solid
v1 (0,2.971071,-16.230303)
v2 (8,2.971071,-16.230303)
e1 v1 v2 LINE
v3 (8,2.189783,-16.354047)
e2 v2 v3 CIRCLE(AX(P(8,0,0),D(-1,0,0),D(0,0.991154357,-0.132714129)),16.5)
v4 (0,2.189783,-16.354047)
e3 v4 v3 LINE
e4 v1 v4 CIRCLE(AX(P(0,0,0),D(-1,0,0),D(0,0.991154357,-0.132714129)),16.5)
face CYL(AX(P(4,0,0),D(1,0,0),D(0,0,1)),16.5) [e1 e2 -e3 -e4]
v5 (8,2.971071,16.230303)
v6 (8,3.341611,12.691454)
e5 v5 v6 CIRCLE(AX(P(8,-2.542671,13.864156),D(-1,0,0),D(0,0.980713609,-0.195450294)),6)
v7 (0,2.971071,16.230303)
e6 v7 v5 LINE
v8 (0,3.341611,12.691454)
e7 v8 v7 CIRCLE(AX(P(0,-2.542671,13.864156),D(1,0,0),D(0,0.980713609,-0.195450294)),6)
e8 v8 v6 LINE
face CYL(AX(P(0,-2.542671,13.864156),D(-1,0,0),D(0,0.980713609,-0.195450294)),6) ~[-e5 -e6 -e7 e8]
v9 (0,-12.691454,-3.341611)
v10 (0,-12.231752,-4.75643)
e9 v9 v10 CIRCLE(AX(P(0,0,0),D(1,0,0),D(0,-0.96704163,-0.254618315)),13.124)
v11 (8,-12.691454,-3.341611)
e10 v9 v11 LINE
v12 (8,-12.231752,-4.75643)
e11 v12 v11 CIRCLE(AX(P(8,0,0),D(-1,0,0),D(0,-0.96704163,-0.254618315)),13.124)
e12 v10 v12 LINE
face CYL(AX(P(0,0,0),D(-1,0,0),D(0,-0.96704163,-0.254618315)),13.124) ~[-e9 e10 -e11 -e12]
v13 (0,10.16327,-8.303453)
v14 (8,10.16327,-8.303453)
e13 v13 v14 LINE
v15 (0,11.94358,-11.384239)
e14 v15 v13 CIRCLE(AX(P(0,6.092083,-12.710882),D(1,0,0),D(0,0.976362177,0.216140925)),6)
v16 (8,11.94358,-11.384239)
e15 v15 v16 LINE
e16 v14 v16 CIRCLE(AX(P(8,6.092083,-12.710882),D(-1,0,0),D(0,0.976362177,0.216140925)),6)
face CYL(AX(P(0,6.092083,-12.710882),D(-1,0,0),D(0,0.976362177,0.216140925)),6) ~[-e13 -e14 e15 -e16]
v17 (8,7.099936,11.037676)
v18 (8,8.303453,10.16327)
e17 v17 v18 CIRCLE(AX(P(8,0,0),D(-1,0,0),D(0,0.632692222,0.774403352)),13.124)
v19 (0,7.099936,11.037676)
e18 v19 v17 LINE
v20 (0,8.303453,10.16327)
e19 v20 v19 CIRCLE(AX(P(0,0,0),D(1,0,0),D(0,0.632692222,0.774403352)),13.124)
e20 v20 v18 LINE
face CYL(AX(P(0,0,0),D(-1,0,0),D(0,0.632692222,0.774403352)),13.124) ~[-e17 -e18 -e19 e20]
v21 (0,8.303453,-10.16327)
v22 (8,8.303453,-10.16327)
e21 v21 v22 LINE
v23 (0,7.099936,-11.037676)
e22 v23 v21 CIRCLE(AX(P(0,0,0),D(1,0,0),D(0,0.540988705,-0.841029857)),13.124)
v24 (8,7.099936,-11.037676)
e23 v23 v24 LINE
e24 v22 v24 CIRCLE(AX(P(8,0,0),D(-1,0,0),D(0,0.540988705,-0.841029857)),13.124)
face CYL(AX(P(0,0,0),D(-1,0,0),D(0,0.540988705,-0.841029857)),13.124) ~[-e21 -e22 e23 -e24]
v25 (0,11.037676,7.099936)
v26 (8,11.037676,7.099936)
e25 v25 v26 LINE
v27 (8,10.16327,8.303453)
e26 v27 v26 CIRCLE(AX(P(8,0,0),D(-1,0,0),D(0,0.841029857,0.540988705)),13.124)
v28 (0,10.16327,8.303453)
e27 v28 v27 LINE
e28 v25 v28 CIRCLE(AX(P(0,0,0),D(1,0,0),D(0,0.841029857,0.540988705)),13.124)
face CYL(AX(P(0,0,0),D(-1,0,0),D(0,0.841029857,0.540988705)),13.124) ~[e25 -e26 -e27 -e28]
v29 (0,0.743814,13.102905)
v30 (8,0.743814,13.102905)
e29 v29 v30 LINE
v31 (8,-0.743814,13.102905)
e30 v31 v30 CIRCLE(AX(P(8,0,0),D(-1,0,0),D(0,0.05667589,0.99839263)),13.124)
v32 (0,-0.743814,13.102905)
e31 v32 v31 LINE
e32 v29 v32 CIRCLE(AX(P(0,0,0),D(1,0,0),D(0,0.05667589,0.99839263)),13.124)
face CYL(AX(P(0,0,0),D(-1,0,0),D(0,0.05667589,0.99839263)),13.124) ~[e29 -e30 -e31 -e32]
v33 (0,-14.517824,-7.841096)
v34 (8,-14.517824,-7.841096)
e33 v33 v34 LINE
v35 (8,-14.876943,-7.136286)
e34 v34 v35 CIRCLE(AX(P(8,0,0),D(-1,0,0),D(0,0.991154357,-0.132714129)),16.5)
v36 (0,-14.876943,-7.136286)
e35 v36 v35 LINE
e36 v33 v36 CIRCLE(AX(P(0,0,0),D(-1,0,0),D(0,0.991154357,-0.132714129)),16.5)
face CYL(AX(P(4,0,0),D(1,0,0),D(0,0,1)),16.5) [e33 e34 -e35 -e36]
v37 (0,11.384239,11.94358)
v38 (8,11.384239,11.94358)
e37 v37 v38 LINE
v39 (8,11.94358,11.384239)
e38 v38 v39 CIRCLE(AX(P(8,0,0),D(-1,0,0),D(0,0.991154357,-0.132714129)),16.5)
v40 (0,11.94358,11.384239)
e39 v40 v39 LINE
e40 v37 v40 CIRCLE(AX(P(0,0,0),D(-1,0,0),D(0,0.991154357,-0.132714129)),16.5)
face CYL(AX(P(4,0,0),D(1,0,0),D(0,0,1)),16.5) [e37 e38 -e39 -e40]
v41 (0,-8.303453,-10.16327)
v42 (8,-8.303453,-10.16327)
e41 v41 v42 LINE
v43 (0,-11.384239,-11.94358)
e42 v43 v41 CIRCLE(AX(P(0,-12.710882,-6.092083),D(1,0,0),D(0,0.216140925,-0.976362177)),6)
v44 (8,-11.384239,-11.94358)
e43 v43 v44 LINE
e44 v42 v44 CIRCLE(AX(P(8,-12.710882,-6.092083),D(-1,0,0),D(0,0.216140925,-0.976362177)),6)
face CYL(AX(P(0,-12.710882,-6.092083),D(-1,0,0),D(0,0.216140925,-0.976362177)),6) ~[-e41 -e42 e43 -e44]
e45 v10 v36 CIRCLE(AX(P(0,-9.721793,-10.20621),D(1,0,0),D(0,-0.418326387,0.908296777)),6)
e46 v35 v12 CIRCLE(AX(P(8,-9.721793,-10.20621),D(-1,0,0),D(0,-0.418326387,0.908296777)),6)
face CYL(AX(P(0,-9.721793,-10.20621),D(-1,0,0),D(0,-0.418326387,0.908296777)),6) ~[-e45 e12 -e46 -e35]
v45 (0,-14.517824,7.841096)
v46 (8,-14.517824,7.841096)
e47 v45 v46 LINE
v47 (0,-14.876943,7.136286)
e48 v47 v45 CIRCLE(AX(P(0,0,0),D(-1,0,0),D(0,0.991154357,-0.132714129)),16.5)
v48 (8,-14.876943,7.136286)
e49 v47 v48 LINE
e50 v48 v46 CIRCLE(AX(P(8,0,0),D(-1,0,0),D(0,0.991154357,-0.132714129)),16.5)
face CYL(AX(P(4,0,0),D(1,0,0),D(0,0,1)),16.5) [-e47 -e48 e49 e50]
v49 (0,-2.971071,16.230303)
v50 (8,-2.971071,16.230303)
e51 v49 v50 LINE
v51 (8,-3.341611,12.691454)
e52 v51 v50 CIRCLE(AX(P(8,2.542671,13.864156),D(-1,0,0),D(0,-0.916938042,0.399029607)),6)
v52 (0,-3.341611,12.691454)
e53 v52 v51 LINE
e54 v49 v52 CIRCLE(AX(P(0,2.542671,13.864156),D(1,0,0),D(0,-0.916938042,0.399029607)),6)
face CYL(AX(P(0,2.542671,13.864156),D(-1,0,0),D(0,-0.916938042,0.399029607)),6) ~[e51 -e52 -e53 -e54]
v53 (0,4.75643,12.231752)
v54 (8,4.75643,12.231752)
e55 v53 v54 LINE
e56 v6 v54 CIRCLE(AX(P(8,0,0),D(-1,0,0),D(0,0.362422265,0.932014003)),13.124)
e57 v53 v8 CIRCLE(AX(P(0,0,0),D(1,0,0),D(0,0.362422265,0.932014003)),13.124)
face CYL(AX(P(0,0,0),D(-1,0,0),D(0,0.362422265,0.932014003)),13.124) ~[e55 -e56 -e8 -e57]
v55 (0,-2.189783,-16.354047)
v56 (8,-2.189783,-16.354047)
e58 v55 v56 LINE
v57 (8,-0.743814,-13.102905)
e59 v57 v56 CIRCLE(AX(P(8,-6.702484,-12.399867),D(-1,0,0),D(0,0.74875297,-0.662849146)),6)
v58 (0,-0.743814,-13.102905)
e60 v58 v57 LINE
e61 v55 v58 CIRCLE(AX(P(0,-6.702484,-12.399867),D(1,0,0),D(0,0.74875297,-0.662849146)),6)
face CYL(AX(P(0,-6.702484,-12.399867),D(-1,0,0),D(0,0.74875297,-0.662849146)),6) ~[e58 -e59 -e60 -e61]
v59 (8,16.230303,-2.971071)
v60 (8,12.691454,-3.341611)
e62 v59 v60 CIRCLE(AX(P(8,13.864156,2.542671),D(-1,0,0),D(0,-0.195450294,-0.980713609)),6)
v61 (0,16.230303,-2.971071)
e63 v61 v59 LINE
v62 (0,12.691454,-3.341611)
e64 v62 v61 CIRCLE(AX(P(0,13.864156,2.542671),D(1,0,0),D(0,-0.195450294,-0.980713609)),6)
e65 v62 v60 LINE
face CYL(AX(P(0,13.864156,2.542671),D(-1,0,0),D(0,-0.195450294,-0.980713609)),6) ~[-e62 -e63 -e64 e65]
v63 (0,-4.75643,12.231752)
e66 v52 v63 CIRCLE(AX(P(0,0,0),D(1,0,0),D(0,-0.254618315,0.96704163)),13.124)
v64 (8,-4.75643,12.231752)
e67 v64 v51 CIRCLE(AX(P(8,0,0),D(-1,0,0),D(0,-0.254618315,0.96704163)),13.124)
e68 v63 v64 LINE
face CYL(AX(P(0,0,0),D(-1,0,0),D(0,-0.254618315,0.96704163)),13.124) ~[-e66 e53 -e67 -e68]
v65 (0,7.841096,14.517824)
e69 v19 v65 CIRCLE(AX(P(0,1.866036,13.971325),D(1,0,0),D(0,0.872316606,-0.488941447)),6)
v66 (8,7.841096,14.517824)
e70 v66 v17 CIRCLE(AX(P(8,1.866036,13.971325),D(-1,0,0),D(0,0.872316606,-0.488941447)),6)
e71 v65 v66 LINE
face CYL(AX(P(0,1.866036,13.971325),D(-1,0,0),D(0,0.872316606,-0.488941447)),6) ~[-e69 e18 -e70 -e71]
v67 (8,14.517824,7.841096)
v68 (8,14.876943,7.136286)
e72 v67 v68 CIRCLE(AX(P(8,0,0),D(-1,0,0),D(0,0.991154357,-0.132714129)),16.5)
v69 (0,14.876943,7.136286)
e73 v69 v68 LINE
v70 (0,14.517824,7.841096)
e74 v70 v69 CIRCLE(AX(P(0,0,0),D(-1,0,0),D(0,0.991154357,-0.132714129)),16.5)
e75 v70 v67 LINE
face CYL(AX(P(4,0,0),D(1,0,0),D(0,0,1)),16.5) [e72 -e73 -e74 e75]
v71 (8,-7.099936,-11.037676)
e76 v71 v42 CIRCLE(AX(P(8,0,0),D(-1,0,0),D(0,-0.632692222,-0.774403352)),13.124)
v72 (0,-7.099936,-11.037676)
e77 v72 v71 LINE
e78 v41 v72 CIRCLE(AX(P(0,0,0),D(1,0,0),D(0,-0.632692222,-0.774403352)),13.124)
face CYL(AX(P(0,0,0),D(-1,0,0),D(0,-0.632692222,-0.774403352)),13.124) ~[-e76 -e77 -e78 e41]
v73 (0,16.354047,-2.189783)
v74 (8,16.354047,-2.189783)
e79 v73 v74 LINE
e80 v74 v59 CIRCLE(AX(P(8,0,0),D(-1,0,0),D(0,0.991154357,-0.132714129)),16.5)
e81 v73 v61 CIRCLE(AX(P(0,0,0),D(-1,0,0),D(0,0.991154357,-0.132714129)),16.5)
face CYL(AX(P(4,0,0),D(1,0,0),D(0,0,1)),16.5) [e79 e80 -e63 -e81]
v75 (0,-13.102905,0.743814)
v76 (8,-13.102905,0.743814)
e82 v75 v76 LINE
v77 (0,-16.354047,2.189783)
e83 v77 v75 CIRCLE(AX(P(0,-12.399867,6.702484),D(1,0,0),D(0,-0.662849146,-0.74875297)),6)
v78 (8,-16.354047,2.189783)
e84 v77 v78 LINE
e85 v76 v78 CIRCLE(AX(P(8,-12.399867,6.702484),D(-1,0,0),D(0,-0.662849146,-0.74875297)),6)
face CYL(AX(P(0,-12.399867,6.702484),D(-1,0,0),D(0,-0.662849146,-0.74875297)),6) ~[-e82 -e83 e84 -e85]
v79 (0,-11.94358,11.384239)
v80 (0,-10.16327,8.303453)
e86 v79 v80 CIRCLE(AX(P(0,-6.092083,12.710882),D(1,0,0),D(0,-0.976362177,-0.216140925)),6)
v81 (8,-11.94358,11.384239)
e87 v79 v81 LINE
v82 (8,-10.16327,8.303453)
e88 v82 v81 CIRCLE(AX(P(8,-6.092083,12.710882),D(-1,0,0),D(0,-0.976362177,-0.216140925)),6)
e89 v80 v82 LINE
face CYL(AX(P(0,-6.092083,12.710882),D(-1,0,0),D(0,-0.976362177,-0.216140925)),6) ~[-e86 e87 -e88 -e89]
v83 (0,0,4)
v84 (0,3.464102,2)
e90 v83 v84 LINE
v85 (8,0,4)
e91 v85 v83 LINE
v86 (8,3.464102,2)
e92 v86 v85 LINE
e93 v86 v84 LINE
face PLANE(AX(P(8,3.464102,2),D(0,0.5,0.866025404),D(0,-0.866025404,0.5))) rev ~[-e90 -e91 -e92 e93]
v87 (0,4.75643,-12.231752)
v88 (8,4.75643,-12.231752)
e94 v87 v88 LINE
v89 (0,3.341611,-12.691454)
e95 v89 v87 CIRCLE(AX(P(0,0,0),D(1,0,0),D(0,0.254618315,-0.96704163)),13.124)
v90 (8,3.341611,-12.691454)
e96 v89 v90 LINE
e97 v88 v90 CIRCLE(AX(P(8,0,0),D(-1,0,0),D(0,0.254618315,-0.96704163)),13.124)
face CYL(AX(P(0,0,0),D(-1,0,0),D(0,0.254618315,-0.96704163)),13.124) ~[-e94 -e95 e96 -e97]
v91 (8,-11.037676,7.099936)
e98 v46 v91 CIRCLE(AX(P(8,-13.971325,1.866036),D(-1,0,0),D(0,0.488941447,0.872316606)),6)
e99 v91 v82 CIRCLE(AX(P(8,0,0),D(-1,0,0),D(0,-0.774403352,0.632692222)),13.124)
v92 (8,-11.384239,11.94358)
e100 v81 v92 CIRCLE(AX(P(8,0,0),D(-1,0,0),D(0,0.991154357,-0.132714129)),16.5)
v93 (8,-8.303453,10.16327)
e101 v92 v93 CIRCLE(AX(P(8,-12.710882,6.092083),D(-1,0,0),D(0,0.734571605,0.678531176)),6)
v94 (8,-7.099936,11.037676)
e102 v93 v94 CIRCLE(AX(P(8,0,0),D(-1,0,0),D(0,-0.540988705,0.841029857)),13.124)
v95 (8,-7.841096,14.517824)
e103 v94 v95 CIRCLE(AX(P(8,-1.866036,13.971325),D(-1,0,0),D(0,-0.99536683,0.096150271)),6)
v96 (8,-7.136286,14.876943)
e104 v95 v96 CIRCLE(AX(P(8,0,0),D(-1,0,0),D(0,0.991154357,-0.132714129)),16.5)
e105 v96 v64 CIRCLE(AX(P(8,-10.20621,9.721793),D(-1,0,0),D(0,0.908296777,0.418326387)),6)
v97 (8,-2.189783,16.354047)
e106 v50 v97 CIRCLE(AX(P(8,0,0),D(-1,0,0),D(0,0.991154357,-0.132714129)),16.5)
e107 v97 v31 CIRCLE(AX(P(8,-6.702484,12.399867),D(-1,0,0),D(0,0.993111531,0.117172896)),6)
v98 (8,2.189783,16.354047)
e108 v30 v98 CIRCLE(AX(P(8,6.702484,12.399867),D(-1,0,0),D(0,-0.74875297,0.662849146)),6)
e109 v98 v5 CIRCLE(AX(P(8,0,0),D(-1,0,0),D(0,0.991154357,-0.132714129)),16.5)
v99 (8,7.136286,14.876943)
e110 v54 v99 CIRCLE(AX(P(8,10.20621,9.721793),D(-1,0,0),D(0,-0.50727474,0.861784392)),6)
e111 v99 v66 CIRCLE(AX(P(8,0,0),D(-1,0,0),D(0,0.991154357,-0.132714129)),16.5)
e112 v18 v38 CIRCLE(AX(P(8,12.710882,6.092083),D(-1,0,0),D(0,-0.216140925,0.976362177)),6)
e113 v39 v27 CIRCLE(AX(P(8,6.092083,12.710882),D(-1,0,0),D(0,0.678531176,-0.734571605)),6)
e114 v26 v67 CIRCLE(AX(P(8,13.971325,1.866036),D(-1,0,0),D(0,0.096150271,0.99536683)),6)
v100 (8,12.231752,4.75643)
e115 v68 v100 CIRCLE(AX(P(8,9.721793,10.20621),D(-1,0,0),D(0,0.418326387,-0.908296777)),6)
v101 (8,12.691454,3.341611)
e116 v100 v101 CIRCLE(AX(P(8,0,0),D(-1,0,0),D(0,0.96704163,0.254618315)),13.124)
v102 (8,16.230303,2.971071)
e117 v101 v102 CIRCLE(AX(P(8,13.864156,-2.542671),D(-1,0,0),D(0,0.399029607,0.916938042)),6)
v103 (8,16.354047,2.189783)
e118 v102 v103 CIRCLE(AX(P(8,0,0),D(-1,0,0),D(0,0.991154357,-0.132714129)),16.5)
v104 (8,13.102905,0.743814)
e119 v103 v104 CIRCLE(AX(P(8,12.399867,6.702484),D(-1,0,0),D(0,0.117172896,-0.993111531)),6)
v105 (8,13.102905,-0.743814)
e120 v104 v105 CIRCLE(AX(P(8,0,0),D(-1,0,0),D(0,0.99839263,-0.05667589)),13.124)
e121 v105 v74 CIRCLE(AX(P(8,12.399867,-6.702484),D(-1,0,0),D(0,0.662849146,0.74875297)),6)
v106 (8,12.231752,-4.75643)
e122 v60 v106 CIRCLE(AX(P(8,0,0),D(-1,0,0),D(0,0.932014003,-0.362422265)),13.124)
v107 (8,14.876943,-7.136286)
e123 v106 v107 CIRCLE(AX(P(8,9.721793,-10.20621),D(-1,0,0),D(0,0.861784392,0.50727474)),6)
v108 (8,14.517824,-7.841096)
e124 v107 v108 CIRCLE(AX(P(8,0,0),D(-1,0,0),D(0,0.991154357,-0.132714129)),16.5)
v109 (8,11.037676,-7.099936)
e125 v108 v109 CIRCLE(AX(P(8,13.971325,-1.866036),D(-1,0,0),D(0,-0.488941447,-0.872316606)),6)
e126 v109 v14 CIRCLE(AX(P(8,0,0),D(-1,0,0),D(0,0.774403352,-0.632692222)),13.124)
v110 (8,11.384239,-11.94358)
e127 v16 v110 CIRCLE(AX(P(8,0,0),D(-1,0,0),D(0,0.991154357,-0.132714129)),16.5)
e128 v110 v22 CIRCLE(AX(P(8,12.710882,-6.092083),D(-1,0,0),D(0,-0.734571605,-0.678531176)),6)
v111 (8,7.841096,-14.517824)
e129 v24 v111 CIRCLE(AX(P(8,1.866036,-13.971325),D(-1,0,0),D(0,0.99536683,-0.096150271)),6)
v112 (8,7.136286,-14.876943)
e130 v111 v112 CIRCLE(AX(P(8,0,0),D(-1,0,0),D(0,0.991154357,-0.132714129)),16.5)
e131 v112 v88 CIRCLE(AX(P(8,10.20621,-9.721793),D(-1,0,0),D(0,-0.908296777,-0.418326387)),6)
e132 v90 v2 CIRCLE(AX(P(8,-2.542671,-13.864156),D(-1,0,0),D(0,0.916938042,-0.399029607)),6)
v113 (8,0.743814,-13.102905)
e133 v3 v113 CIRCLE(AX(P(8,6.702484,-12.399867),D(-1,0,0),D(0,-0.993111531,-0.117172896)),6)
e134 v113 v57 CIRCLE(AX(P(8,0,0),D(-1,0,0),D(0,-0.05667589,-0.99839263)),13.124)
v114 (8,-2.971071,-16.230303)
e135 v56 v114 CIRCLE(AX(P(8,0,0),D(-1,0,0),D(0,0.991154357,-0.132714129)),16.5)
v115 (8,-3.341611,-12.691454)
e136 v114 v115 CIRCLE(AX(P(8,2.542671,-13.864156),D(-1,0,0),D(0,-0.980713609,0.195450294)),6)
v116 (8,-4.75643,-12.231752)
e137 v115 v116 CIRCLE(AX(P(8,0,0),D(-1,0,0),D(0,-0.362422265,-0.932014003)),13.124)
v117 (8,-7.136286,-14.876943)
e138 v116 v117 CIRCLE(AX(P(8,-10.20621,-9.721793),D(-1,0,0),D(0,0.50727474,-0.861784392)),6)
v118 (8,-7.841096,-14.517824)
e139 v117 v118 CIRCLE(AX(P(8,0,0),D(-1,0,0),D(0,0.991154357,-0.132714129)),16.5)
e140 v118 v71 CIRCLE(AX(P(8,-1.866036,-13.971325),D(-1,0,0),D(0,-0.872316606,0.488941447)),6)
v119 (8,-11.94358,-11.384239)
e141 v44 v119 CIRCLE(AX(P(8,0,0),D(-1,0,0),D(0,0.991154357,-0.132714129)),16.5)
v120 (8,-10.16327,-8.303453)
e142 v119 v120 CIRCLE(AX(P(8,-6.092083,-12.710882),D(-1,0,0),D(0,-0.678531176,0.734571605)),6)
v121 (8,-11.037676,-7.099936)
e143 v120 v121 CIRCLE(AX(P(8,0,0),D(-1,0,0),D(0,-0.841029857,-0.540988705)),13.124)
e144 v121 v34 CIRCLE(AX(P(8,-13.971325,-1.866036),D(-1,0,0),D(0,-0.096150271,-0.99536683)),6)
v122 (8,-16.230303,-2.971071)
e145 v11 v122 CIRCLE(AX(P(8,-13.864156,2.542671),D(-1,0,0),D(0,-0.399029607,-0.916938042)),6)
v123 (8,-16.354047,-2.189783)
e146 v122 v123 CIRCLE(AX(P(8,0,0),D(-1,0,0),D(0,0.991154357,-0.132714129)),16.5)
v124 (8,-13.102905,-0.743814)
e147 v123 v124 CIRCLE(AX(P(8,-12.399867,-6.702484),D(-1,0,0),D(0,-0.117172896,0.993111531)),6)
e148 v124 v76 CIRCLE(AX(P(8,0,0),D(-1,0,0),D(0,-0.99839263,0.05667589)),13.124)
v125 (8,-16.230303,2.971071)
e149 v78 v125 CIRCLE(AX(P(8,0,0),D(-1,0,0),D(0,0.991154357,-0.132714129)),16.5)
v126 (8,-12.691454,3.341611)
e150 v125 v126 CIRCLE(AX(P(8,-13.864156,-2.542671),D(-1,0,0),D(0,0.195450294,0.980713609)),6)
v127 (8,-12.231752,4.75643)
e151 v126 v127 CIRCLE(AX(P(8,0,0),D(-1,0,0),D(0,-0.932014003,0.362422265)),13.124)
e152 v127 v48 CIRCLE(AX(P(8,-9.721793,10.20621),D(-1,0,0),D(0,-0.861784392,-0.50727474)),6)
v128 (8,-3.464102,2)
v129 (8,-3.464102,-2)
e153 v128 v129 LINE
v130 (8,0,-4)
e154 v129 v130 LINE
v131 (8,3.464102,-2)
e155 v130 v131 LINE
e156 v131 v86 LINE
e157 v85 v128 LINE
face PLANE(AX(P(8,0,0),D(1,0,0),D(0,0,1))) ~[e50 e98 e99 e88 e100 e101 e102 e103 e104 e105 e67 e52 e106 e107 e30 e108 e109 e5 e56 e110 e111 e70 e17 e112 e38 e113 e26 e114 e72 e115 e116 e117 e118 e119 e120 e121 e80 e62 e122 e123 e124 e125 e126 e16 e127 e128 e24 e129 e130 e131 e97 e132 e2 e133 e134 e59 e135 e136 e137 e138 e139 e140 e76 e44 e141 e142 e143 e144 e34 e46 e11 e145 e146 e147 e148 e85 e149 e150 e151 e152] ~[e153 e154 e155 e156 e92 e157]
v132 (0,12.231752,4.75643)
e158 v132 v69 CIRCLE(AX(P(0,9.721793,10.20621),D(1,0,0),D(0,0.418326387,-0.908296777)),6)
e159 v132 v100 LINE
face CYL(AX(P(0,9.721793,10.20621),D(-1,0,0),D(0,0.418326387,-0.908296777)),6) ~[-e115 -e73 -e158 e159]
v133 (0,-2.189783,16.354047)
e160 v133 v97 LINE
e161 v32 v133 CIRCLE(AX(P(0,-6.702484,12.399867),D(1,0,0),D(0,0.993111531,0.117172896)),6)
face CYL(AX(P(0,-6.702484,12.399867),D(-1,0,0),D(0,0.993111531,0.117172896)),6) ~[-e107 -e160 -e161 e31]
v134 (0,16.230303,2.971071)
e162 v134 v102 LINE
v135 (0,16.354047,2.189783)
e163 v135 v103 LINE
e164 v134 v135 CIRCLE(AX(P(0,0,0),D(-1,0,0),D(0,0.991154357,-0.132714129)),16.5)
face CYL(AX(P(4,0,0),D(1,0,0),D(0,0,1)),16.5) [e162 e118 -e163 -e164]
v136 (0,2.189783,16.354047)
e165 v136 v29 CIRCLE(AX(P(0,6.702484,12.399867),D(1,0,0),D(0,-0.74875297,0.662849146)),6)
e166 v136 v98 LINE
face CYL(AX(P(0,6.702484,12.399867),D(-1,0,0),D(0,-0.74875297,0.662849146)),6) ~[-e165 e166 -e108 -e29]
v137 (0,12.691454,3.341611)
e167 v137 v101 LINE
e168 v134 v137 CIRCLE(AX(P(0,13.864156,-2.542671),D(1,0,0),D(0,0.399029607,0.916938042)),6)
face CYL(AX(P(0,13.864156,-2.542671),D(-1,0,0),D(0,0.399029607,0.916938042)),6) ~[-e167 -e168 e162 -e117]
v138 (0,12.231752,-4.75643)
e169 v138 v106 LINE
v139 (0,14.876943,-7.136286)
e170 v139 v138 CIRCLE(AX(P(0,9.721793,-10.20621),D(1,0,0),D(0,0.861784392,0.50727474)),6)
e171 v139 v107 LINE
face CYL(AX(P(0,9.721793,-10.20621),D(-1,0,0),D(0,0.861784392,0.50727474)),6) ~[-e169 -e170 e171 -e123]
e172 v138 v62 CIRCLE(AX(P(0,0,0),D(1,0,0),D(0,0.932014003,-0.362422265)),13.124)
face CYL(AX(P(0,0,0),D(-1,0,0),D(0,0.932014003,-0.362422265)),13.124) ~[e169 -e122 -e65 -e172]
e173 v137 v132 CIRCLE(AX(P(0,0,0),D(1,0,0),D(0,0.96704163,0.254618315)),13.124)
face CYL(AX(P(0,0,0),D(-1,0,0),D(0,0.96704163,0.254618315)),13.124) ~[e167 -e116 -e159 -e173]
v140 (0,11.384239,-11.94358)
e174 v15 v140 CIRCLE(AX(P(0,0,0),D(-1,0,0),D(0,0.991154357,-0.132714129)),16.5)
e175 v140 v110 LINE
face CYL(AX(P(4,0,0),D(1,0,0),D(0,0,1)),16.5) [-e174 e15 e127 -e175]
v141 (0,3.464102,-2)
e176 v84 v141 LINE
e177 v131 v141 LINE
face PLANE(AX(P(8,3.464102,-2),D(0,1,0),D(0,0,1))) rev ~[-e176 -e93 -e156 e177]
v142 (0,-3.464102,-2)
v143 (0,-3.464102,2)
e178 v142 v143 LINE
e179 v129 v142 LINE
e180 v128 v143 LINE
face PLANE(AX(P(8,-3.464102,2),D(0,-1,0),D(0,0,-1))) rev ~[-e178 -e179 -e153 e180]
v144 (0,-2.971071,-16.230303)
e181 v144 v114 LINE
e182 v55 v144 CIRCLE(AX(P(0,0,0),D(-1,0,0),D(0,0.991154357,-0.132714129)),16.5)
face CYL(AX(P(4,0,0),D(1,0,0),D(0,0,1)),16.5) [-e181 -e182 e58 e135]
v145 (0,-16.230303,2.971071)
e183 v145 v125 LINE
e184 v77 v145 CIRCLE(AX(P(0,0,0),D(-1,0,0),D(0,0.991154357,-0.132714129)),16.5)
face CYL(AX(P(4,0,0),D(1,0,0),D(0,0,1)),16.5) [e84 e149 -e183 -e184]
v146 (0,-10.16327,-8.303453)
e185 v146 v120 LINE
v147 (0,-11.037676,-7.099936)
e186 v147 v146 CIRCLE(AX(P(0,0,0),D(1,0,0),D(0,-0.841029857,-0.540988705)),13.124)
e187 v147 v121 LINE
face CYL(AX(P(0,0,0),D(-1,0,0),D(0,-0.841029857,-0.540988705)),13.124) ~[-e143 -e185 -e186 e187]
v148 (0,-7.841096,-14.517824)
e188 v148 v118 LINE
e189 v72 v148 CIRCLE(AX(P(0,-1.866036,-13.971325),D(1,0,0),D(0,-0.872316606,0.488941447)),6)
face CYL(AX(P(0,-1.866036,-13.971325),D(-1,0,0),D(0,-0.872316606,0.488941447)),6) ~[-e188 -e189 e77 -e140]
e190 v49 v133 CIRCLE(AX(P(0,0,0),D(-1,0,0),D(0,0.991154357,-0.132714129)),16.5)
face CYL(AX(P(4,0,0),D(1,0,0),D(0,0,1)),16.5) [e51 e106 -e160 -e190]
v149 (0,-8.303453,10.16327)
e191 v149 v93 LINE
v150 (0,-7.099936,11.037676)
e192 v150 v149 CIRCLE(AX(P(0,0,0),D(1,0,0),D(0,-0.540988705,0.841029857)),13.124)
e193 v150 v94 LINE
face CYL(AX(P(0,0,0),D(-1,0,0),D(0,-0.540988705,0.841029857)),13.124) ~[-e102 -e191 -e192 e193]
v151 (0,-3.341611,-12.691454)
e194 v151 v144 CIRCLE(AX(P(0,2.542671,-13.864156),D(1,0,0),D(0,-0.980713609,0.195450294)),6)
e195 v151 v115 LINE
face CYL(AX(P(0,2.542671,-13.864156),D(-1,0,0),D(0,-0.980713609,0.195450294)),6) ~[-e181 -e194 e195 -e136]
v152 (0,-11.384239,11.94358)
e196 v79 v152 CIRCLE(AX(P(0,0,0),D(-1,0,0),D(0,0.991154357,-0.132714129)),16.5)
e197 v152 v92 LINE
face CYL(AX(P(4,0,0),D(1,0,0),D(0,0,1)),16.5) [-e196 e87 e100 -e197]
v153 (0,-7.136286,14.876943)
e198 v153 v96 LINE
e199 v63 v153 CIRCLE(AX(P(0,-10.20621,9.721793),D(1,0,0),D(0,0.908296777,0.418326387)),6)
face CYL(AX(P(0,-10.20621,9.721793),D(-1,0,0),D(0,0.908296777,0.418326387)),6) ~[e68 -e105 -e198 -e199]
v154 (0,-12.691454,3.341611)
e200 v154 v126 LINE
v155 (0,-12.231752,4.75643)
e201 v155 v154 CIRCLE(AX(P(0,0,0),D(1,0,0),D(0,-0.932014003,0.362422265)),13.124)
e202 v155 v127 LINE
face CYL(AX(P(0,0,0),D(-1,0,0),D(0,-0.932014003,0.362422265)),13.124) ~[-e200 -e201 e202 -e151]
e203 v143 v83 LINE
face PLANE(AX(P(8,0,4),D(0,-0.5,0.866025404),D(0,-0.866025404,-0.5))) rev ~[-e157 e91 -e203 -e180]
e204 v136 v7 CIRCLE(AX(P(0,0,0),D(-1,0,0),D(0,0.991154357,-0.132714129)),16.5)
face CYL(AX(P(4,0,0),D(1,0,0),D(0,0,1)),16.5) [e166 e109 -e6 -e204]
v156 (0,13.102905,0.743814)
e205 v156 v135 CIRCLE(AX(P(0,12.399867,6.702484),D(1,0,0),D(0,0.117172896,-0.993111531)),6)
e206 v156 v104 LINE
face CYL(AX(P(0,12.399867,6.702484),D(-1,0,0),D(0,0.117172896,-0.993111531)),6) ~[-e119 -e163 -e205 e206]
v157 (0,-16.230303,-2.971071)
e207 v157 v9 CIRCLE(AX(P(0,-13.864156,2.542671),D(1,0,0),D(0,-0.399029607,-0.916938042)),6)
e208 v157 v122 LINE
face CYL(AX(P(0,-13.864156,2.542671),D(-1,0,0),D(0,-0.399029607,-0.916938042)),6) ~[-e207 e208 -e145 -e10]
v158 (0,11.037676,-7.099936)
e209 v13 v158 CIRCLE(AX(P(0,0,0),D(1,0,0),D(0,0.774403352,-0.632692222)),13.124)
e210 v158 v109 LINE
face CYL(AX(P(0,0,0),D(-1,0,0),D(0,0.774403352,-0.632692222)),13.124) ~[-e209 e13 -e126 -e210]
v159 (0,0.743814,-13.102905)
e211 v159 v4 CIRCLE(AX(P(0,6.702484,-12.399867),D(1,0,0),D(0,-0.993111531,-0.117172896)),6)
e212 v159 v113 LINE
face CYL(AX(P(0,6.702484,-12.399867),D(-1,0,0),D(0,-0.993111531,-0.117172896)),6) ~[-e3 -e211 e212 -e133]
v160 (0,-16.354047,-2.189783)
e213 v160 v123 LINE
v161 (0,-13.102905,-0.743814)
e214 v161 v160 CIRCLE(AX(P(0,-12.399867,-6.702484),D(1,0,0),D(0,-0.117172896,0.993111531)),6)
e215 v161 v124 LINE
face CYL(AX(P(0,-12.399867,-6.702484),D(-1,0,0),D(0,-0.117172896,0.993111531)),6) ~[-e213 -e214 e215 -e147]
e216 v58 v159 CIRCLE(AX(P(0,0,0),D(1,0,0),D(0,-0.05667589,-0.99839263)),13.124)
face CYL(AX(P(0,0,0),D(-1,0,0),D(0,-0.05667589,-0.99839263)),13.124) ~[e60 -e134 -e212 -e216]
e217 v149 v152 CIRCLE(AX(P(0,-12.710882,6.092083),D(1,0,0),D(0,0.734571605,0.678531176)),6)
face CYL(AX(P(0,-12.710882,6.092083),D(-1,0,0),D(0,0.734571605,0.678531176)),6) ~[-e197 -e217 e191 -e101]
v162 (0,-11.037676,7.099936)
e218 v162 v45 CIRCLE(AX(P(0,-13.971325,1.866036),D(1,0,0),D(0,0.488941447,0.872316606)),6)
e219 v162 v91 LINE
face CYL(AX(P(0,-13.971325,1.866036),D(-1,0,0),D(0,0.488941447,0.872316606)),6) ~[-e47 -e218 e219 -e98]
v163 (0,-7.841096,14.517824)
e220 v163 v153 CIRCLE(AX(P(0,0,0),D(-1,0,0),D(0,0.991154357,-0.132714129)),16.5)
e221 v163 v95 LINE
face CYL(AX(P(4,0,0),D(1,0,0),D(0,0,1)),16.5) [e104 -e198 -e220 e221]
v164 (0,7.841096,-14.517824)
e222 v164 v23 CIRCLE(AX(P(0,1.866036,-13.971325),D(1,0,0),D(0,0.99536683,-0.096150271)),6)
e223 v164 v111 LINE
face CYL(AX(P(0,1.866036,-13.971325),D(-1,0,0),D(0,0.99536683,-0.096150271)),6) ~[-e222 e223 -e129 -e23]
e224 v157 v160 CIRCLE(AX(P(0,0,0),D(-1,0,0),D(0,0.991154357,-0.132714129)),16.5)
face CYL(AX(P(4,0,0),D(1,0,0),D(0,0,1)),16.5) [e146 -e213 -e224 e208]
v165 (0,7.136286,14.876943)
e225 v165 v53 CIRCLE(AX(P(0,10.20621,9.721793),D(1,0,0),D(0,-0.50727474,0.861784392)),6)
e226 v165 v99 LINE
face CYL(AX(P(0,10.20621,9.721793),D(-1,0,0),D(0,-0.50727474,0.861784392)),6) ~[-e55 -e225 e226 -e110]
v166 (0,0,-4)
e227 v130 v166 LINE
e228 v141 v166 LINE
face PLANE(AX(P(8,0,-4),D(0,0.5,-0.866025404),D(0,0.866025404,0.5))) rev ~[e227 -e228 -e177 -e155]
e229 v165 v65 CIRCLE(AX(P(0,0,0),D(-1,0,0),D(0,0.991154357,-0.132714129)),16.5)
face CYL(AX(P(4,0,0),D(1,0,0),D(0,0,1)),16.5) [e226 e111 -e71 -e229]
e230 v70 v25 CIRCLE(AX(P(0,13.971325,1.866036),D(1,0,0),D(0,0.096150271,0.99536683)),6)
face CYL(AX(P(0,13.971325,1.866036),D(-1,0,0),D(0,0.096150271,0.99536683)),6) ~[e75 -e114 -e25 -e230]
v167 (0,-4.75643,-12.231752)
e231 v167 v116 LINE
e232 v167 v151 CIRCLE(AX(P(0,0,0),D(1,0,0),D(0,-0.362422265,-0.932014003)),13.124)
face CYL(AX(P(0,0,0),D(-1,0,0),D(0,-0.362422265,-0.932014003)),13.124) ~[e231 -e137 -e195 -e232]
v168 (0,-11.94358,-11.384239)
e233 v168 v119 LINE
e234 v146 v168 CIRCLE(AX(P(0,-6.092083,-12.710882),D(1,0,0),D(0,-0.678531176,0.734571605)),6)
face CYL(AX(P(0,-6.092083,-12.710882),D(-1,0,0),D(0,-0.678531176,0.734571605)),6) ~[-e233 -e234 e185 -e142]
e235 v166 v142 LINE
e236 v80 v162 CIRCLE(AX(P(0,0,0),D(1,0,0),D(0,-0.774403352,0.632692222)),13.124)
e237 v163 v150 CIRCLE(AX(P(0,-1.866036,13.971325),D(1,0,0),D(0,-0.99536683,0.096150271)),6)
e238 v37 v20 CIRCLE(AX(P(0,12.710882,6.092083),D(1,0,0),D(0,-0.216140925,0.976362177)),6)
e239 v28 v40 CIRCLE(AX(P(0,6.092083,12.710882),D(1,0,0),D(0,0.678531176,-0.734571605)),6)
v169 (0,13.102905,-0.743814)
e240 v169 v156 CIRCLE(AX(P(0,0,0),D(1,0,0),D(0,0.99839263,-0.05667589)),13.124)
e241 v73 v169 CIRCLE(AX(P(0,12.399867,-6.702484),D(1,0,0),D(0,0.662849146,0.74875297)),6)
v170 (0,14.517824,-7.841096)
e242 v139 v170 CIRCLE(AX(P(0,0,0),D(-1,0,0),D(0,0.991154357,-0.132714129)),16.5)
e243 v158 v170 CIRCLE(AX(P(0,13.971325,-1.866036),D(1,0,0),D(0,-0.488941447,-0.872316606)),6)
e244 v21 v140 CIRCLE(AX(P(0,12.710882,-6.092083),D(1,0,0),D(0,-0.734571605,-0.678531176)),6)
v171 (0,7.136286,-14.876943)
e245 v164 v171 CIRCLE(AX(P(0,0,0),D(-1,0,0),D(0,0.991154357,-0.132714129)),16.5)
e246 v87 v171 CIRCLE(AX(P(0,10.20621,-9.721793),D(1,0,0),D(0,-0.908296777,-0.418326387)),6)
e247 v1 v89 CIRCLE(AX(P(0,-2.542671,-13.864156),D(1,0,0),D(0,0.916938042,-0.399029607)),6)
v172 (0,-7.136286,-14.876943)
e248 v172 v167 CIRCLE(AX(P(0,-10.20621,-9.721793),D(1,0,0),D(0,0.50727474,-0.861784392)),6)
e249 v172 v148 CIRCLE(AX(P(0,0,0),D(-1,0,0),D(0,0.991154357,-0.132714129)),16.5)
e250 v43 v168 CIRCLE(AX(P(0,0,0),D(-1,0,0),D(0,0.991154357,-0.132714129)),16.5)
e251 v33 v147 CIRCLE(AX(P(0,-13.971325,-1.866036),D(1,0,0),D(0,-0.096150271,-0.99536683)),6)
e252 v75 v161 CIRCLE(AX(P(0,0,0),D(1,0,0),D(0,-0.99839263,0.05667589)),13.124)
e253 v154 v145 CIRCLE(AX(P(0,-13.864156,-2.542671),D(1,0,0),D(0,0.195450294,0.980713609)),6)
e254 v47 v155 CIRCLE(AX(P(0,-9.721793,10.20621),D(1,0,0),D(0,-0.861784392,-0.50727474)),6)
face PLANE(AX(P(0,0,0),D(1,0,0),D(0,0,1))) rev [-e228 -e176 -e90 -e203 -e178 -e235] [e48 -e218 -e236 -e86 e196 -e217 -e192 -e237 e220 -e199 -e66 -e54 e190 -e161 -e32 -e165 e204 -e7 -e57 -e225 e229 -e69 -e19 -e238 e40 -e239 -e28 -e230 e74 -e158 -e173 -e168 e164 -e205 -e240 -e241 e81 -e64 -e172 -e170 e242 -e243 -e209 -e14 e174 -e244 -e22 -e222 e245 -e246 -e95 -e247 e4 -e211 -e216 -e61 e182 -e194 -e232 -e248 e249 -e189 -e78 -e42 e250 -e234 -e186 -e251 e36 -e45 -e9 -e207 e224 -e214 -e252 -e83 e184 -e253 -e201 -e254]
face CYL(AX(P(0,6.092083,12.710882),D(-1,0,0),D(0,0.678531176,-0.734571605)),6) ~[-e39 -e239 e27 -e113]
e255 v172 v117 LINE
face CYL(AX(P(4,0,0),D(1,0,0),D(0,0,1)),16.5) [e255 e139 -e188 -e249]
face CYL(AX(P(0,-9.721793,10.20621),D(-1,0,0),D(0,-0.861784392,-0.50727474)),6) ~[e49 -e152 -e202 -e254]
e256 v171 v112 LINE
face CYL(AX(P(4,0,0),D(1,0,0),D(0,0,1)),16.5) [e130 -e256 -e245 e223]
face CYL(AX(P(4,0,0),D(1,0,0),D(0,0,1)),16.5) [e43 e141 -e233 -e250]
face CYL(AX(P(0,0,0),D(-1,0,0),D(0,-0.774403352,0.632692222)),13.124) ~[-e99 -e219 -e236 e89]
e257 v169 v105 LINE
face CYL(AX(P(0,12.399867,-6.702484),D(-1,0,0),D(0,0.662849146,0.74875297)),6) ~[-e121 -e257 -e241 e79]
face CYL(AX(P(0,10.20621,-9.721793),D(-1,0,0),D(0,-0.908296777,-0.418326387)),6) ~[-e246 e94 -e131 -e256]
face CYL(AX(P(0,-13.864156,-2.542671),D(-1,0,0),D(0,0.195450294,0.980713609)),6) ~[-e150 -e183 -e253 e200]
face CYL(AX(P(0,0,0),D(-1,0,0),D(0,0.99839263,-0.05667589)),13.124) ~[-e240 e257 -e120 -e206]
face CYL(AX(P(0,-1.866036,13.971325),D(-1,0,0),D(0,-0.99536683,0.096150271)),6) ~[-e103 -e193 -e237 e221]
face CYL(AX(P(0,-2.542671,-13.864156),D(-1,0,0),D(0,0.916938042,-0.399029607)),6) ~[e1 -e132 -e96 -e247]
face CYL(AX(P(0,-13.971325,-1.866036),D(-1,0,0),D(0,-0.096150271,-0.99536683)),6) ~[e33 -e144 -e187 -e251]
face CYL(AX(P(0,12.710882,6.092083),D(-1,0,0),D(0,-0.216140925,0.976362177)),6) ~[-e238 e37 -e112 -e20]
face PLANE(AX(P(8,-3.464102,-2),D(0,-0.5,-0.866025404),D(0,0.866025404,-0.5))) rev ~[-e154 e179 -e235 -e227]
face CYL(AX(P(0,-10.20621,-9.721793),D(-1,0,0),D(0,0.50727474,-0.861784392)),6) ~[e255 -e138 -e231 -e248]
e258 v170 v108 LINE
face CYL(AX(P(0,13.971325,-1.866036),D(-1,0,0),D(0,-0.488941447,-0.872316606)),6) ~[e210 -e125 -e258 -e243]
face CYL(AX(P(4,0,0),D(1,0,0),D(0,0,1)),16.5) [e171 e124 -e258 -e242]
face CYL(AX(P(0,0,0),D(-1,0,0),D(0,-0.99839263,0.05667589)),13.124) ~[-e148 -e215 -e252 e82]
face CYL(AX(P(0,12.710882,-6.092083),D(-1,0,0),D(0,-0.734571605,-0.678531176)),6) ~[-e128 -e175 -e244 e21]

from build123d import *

# Parameters (mm, degrees)
BASPROSKE_W        = 8
BASPROSKE_H        = 16.5
TOOTHCUT_DEPTH     = 25.667792767
TEETHCUTS_COUNT    = 20
TEETHCUTS_ANGLE    = 342
BORSKE_R           = 2.5
BORE_DEPTH         = 50.0000508
CUT_EXTRUDE1_DEPTH = 25.472631648


with BuildPart() as part:
    # BasProSke → Base-Revolve (revolve)
    with BuildSketch(Plane(origin=(0, 0, 0), x_dir=(1, 0, 0), z_dir=(0, 1, 0)), mode=Mode.PRIVATE) as base_revolve_sk:
        with Locations((4, 8.25)):
            Rectangle(BASPROSKE_W, BASPROSKE_H)
    revolve(base_revolve_sk.sketch.rotate(Axis((-10, 0, 0), (1, 0, 0)), 180), axis=Axis((-10, 0, 0), (1, 0, 0)))

    # TooCutSke → ToothCut (cut, through all)
    with BuildSketch(Plane(origin=(0, 0, 0), x_dir=(0, 0, -1), z_dir=(1, 0, 0))):
        with BuildLine():
            ThreePointArc((0.74381438, 13.102904875), (0, 13.124), (-0.74381438, 13.102904875))
            ThreePointArc((-0.74381438, 13.102904875), (-1.226473103, 14.852072512), (-2.209965745, 16.376962373))
            ThreePointArc((-2.209965745, 16.376962373), (0, 16.5254), (2.209965745, 16.376962373))
            ThreePointArc((2.209965745, 16.376962373), (1.226473103, 14.852072512), (0.74381438, 13.102904875))
        make_face()
    toothcut = extrude(amount=TOOTHCUT_DEPTH, mode=Mode.SUBTRACT)

    # TeethCuts: ToothCut ×20 about axis
    teethcuts_axis = Axis((-10, 0, 0), (1, 0, 0))
    for i in range(1, TEETHCUTS_COUNT):
        add(toothcut.rotate(teethcuts_axis, i * TEETHCUTS_ANGLE / (TEETHCUTS_COUNT - 1)), mode=Mode.SUBTRACT)

    # BorSke → Bore (cut, symmetric)
    with BuildSketch(Plane(origin=(0, 0, 0), x_dir=(0, 0, -1), z_dir=(1, 0, 0))):
        with Locations(Location((0, 0, 0), (0, 0, 180))):
            Circle(BORSKE_R)
    extrude(amount=BORE_DEPTH, both=True, mode=Mode.SUBTRACT)

    # Sketch1 → Cut-Extrude1 (cut, through all)
    with BuildSketch(Plane(origin=(8, 0, 0), x_dir=(0, 0, -1), z_dir=(1, 0, 0))):
        Polygon((4, 0), (2, 3.464101615), (-2, 3.464101615), (-4, 0), (-2, -3.464101615), (2, -3.464101615), align=None)
    extrude(amount=-CUT_EXTRUDE1_DEPTH, mode=Mode.SUBTRACT)


solid = part.part
